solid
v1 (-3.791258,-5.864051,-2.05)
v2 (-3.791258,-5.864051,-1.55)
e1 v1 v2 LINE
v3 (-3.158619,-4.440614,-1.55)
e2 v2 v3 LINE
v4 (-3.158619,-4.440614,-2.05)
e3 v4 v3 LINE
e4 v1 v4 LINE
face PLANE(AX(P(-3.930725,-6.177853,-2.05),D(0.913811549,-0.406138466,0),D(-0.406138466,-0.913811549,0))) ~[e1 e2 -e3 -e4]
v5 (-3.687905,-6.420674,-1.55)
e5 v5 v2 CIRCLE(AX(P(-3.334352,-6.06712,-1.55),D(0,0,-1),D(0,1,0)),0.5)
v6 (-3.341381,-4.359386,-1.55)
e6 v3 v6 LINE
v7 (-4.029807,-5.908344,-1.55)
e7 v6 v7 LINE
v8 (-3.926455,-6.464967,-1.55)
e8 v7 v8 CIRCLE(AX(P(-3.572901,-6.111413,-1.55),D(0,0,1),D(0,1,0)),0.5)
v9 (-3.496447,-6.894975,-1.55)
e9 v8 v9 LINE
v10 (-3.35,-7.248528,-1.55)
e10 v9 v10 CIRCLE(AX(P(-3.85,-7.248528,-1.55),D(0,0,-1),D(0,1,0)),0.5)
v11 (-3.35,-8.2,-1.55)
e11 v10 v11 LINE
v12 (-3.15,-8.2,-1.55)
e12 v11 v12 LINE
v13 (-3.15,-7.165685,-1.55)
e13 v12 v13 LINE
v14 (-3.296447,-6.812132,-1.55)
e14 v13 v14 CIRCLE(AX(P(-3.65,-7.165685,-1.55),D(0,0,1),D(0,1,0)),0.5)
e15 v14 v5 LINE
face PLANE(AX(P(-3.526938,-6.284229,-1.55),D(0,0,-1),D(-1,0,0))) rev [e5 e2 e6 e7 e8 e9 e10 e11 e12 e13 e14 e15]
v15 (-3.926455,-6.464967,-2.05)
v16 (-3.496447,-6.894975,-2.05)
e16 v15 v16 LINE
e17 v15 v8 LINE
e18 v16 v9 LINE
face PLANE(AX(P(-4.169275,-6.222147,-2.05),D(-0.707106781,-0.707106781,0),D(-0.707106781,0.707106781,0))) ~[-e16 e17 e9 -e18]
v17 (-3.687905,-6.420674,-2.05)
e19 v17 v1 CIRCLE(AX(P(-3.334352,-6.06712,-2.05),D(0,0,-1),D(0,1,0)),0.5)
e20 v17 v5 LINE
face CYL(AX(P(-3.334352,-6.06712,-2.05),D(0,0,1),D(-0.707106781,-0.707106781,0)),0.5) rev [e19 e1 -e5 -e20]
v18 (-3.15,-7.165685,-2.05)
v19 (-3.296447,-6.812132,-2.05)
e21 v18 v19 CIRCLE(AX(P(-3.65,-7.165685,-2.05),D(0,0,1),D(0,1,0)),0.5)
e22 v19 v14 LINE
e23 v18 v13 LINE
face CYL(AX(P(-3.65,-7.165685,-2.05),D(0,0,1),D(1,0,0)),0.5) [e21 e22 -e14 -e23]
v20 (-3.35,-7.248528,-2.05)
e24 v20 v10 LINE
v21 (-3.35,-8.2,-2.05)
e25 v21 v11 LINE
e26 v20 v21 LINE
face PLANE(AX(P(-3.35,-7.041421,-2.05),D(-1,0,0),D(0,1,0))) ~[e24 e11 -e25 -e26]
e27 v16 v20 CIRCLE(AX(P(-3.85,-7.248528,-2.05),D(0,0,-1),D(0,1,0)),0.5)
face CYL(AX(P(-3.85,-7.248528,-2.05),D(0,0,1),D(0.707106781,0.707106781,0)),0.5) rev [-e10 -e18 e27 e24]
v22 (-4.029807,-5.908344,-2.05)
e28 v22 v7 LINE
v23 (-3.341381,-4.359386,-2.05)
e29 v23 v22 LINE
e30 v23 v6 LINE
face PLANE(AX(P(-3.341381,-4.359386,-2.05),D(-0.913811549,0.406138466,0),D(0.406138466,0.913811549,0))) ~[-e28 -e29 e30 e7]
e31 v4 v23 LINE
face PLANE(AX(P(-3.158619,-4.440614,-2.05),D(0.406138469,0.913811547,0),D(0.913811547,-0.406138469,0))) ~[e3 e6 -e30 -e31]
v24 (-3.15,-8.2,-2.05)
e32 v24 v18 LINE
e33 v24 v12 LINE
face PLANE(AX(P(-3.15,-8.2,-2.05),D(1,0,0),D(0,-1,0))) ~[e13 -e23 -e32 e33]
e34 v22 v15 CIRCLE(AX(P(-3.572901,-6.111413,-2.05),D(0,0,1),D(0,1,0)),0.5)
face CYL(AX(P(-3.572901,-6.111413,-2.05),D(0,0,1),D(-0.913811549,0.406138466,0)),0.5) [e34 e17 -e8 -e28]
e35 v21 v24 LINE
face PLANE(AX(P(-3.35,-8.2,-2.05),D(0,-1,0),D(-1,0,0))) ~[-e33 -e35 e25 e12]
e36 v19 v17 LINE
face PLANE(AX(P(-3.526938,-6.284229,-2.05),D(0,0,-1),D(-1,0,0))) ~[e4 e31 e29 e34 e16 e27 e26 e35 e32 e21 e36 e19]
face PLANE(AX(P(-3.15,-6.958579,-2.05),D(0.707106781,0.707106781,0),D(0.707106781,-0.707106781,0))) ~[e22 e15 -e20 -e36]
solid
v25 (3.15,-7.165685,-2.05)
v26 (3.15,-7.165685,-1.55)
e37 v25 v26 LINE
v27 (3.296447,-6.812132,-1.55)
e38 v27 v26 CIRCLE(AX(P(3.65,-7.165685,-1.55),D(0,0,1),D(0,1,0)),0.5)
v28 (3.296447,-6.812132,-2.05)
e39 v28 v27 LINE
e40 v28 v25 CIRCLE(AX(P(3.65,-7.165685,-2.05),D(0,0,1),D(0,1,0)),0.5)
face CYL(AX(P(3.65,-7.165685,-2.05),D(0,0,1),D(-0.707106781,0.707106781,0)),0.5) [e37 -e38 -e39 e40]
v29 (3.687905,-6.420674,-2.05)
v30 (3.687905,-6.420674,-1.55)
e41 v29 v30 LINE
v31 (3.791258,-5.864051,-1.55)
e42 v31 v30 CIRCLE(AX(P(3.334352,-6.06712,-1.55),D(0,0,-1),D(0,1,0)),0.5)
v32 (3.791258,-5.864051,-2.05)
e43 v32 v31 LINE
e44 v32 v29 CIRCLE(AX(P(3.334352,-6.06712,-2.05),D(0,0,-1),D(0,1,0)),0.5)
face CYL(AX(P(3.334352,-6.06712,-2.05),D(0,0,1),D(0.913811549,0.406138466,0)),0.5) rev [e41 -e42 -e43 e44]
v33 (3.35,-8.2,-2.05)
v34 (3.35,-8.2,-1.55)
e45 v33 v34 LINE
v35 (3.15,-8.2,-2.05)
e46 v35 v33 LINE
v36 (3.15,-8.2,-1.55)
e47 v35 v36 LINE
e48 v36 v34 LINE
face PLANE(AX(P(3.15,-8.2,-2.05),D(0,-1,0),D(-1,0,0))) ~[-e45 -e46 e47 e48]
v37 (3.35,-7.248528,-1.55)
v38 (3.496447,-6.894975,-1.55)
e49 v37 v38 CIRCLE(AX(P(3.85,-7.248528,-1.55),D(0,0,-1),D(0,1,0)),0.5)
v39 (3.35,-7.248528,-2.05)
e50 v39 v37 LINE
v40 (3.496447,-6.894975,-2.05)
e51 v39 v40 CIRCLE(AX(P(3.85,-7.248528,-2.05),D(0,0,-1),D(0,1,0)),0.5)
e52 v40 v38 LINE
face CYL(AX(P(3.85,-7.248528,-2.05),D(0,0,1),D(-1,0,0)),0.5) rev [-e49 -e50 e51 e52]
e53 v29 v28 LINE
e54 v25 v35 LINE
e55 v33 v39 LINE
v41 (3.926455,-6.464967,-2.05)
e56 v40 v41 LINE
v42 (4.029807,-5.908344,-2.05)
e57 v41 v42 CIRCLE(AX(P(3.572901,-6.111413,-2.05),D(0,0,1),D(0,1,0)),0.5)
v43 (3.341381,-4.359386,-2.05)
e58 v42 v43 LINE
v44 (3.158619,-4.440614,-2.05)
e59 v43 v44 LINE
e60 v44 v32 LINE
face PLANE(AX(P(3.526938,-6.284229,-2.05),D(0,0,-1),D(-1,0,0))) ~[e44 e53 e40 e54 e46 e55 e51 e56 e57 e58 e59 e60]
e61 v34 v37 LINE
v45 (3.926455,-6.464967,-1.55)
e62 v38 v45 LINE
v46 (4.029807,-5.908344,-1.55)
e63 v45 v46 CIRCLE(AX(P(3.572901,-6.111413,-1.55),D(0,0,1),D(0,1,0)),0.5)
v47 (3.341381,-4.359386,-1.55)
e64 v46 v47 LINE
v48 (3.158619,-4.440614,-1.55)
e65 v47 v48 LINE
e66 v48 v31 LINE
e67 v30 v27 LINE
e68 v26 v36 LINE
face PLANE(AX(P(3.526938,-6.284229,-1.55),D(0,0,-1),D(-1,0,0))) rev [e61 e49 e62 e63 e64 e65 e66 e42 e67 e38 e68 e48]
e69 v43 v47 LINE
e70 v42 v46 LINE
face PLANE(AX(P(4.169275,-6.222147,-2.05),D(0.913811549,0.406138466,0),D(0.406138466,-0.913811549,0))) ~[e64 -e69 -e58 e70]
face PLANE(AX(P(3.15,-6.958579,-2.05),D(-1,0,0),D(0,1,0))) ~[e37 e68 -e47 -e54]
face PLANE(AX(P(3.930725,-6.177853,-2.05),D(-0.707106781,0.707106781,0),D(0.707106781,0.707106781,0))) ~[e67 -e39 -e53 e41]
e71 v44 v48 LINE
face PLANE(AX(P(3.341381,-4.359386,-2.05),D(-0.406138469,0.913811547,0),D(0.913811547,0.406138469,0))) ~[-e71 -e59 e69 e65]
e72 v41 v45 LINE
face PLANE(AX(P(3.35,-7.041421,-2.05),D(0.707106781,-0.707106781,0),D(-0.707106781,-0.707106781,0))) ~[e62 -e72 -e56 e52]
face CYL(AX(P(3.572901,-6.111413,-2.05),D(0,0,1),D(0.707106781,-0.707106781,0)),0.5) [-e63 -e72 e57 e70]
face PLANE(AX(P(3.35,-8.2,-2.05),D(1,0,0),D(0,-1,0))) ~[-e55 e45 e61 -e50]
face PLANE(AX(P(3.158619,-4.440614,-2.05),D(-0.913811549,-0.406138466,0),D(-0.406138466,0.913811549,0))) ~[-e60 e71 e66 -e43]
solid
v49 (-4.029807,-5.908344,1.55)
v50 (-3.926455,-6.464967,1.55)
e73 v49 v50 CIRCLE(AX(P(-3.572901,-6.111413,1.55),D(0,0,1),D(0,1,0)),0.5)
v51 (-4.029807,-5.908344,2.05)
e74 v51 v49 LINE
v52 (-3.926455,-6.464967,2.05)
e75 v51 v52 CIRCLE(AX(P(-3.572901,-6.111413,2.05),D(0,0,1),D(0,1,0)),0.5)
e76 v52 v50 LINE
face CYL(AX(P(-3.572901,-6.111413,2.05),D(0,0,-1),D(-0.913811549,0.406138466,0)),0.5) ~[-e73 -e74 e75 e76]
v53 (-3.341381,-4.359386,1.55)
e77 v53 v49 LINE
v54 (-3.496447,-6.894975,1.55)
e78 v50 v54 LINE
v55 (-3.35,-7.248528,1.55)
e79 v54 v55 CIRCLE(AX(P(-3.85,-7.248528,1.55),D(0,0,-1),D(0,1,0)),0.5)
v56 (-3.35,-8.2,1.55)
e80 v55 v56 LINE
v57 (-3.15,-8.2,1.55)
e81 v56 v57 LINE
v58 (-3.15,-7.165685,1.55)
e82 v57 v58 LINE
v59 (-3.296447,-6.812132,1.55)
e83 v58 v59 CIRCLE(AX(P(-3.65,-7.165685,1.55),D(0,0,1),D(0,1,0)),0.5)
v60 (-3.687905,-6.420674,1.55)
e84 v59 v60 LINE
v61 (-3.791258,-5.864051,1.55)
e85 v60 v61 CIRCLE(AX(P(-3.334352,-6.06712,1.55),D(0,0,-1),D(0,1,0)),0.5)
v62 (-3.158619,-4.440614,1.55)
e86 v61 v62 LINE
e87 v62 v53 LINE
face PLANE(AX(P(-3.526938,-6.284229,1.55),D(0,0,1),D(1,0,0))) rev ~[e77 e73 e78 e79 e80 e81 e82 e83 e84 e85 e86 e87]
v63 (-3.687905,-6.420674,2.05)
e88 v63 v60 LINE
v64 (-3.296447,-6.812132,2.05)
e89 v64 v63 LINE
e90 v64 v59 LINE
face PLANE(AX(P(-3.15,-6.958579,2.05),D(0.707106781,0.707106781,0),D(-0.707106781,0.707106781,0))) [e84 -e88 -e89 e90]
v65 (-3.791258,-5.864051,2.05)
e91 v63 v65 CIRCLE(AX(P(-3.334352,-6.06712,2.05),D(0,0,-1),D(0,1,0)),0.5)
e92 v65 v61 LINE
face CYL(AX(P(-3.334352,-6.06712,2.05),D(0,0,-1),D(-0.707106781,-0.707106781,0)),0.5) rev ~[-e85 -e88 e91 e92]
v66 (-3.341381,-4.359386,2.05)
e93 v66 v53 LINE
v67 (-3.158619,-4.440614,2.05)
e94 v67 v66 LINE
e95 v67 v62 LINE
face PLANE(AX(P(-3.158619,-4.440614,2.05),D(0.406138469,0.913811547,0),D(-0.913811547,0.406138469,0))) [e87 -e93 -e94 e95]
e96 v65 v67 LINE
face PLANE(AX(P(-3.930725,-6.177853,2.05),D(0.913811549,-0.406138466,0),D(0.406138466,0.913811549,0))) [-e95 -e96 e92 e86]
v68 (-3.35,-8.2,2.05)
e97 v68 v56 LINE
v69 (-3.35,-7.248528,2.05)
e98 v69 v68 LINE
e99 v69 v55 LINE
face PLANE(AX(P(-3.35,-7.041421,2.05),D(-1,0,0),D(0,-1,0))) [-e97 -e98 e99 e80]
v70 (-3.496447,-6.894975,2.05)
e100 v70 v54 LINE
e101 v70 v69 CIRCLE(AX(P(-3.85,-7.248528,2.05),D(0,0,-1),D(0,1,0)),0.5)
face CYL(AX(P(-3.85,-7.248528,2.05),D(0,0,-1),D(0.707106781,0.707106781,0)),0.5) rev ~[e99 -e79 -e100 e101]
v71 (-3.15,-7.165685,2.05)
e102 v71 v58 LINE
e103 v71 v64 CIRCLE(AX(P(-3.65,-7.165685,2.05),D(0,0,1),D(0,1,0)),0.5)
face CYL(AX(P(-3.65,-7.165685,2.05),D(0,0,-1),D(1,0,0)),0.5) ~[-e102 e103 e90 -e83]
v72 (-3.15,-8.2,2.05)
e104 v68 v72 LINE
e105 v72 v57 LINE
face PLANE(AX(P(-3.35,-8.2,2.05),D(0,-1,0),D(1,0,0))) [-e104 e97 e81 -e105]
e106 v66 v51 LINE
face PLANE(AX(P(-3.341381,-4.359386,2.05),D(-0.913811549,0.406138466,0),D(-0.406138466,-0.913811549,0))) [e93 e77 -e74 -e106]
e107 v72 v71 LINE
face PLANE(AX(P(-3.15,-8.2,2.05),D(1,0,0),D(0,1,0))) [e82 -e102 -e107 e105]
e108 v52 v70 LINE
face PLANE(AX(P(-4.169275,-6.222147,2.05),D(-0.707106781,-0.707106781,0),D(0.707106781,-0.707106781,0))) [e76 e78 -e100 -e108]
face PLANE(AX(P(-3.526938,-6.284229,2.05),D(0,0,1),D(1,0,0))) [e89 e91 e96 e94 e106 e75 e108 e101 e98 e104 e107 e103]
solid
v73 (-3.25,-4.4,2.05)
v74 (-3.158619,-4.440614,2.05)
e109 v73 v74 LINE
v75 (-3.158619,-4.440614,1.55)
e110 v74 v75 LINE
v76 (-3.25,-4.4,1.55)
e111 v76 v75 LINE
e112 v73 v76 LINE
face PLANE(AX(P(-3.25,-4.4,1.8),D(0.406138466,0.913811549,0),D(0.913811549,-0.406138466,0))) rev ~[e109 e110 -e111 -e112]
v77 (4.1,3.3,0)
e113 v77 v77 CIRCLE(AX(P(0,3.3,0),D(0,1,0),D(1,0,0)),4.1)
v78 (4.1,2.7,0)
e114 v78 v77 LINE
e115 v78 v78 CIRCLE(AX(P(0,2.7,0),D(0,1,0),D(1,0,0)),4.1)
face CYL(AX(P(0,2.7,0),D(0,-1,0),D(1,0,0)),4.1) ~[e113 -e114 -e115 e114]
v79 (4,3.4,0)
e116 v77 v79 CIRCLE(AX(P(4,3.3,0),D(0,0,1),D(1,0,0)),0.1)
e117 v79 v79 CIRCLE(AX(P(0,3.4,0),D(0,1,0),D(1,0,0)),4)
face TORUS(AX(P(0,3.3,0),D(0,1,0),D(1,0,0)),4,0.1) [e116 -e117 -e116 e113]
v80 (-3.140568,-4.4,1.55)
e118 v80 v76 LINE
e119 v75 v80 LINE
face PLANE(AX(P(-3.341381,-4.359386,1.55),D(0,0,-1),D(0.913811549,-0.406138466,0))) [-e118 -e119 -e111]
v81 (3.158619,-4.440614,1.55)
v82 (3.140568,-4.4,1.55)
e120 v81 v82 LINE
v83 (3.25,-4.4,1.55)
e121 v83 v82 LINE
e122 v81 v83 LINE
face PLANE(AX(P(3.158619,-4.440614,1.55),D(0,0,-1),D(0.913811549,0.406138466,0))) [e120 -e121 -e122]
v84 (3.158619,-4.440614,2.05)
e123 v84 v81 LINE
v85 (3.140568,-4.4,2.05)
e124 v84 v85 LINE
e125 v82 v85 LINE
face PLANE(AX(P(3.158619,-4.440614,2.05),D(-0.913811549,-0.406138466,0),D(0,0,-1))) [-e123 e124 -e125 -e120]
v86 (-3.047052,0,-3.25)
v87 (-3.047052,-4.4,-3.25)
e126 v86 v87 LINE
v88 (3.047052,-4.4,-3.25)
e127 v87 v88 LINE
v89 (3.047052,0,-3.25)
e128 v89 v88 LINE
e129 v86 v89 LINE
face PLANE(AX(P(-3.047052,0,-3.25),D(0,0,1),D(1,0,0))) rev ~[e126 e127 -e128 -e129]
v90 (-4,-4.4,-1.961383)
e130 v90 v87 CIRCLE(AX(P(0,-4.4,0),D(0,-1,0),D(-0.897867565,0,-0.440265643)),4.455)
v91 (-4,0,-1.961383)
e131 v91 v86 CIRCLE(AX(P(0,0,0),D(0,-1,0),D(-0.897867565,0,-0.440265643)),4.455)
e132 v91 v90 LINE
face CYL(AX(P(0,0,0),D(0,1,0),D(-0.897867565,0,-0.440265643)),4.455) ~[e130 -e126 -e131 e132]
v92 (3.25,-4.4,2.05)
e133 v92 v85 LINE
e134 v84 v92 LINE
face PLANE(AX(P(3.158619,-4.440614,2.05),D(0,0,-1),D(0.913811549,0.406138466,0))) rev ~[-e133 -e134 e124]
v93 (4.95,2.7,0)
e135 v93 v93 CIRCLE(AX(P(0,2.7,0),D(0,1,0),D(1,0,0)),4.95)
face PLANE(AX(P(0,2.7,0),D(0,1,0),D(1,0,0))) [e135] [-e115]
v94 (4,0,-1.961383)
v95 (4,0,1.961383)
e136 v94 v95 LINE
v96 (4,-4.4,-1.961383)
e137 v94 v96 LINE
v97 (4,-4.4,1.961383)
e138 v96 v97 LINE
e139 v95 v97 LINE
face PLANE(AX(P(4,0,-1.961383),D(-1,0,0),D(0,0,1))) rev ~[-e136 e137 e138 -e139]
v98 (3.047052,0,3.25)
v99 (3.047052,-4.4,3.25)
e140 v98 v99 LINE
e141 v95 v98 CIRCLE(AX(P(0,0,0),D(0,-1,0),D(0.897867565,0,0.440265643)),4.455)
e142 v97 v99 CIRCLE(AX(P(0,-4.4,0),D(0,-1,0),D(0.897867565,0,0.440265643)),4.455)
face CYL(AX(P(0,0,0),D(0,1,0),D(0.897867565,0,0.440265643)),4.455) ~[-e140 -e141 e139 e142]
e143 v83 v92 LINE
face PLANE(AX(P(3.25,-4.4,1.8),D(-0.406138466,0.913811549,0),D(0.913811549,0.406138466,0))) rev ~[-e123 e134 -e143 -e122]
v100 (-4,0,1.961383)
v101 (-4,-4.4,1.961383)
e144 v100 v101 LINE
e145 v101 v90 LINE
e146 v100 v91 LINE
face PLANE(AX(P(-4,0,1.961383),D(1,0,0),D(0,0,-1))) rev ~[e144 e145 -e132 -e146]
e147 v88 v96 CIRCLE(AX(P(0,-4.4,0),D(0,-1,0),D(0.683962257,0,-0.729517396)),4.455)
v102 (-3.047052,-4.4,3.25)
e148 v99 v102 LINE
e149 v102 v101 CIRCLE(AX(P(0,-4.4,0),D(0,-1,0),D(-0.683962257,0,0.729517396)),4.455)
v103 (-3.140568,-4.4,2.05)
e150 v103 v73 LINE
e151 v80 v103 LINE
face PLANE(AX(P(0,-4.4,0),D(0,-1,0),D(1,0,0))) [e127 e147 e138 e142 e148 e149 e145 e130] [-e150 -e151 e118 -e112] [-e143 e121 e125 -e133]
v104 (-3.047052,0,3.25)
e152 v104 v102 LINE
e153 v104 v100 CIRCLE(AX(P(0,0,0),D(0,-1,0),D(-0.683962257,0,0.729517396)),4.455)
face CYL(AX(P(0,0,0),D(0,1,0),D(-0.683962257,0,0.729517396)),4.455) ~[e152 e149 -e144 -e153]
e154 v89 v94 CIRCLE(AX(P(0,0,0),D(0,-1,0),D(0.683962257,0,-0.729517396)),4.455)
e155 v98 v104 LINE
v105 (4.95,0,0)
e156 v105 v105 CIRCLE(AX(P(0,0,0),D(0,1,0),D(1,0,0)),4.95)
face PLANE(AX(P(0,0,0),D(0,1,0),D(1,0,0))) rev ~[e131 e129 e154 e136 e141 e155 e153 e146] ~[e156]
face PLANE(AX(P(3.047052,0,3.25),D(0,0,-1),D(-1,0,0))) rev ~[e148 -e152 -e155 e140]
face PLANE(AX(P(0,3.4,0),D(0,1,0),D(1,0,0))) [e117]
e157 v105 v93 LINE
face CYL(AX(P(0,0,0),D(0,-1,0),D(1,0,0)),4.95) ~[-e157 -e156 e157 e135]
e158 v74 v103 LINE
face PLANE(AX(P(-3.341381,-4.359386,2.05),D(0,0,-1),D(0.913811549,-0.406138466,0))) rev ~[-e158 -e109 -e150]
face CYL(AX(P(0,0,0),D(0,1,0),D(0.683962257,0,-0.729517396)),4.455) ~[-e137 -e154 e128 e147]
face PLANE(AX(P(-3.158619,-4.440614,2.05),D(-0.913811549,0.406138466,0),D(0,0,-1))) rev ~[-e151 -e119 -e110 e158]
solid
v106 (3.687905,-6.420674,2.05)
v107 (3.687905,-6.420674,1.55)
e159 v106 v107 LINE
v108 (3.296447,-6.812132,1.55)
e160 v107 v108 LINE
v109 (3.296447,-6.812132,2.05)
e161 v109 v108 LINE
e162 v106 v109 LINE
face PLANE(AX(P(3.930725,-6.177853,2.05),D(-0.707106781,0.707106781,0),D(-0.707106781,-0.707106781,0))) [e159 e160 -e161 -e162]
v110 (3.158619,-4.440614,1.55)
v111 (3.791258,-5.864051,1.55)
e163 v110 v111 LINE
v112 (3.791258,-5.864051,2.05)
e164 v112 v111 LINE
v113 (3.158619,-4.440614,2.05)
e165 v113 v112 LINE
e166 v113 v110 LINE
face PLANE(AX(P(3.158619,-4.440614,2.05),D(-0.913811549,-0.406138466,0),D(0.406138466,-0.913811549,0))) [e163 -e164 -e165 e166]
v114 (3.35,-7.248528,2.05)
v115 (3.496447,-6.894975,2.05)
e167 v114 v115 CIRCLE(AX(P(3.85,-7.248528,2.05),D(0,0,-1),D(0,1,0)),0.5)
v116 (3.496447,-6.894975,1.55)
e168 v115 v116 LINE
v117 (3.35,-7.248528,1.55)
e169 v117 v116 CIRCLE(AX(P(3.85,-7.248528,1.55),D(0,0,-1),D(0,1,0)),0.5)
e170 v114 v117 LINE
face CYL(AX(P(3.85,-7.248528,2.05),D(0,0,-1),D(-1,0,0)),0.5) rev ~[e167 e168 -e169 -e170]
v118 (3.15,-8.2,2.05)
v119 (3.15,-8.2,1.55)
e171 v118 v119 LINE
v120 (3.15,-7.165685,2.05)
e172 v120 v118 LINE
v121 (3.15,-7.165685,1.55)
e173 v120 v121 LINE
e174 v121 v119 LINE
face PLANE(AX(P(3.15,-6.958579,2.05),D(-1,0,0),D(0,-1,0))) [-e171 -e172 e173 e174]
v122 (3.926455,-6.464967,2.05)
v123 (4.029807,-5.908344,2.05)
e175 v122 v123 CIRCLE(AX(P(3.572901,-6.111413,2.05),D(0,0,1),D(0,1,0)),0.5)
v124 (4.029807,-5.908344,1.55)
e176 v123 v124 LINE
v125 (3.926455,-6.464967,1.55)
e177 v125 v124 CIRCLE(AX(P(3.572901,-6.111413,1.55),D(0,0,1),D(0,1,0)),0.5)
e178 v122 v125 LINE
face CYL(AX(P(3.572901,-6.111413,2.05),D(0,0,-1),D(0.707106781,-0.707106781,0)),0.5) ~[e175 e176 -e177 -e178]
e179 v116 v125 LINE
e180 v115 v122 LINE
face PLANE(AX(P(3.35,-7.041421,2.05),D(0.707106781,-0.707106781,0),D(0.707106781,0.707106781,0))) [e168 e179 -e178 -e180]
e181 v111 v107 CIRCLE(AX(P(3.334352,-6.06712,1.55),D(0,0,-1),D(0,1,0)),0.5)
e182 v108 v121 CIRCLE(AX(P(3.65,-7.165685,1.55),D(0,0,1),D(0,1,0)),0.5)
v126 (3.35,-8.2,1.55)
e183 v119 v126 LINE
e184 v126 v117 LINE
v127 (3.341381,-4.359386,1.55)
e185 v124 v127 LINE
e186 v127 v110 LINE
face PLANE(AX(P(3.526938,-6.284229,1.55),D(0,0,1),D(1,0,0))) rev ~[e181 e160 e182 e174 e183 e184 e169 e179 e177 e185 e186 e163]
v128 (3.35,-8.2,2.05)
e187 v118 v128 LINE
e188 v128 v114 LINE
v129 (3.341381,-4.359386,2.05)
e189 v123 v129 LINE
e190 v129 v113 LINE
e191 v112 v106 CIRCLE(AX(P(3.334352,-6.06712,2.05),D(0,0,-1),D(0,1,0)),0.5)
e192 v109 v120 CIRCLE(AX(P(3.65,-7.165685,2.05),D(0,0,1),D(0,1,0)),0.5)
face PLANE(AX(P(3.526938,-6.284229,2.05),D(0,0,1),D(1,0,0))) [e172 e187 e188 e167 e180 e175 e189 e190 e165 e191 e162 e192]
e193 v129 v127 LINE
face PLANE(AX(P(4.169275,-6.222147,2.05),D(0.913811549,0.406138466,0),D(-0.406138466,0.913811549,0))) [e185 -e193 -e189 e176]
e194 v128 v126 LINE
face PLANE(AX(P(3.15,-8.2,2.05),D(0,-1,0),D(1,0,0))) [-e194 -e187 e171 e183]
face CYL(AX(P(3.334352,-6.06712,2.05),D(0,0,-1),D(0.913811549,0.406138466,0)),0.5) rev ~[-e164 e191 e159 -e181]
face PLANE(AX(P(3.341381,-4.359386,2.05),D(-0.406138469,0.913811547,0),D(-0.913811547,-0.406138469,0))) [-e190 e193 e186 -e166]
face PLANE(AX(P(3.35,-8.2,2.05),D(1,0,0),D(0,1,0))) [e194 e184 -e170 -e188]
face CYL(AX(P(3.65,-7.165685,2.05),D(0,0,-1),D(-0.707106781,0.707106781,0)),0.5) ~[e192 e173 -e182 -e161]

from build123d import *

# Parameters (mm, degrees)
SKETCH1_R             = 4.95
BOSS_EXTRUDE1_DEPTH   = 2.7
SKETCH2_R             = 4.1
BOSS_EXTRUDE2_DEPTH   = 0.7
BOSS_EXTRUDE3_DEPTH   = 4.4
EXTRUDE_THIN1_START   = -1.2
EXTRUDE_THIN1_DEPTH   = 0.5
EXTRUDE_THIN1_2_DEPTH = 0.5
FILLET1_R             = 0.5
FILLET2_R             = 0.5
BOSS_EXTRUDE4_REACH   = 12.458
SKETCH5_W             = 0.2
SKETCH5_H             = 0.5
BOSS_EXTRUDE5_REACH   = 12.458
SKETCH6_W             = 0.2
SKETCH6_H             = 0.5
FILLET3_R             = 0.1


with BuildPart() as part:
    # Sketch1 → Boss-Extrude1 (new body)
    with BuildSketch(Plane(origin=(0, 0, 0), x_dir=(1, 0, 0), z_dir=(0, 1, 0))):
        Circle(SKETCH1_R)
    extrude(amount=BOSS_EXTRUDE1_DEPTH)

    # Sketch2 → Boss-Extrude2 (add)
    with BuildSketch(Plane(origin=(0, 2.7, 0), x_dir=(1, 0, 0), z_dir=(0, 1, 0))):
        Circle(SKETCH2_R)
    extrude(amount=BOSS_EXTRUDE2_DEPTH)

    # Sketch3 → Boss-Extrude3 (add)
    with BuildSketch(Plane.XZ):
        with BuildLine():
            Line((3.047051854, 3.25), (-3.047051854, 3.25))
            ThreePointArc((-3.047051854, 3.25), (-3.581950323, 2.648897296), (-4, 1.96138344))
            Line((-4, 1.96138344), (-4, -1.96138344))
            ThreePointArc((-4, -1.96138344), (-3.581950323, -2.648897296), (-3.047051854, -3.25))
            Line((-3.047051854, -3.25), (3.047051854, -3.25))
            ThreePointArc((3.047051854, -3.25), (3.581950323, -2.648897296), (4, -1.96138344))
            Line((4, -1.96138344), (4, 1.96138344))
            ThreePointArc((4, 1.96138344), (3.581950323, 2.648897296), (3.047051854, 3.25))
        make_face()
    extrude(amount=BOSS_EXTRUDE3_DEPTH)

    # Boss-Extrude4: up to this face of the body (flat: up to its plane)
    boss_extrude4_end = Plane(part.part.faces().sort_by_distance((0, -4.4, 0))[0])
    # Sketch5 → Boss-Extrude4 (add, up to the picked face)
    with BuildSketch(Plane(origin=(2.169072165, -4.880412371, 0), x_dir=(0.913811549, 0.406138466, 0), z_dir=(-0.406138466, 0.913811549, 0)), mode=Mode.PRIVATE) as boss_extrude4_sk1:
        with Locations((1.182878282, -1.8)):
            Rectangle(SKETCH5_W, SKETCH5_H)
    boss_extrude4_tool1 = split(extrude(boss_extrude4_sk1.sketch, amount=BOSS_EXTRUDE4_REACH, mode=Mode.PRIVATE), bisect_by=boss_extrude4_end, keep=Keep.BOTH, mode=Mode.PRIVATE)
    add(boss_extrude4_tool1.solids().sort_by_distance((3.25, -4.4, 1.8))[0])

    # Boss-Extrude5: up to this face of the body (flat: up to its plane)
    boss_extrude5_end = Plane(part.part.faces().sort_by_distance((-0.003510671, -4.4, -0.001977667))[0])
    # Sketch6 → Boss-Extrude5 (add, up to the picked face)
    with BuildSketch(Plane(origin=(-2.169072165, -4.880412371, 0), x_dir=(0.913811549, -0.406138466, 0), z_dir=(0.406138466, 0.913811549, 0)), mode=Mode.PRIVATE) as boss_extrude5_sk1:
        with Locations((-1.182878282, -1.8)):
            Rectangle(SKETCH6_W, SKETCH6_H)
    boss_extrude5_tool1 = split(extrude(boss_extrude5_sk1.sketch, amount=BOSS_EXTRUDE5_REACH, mode=Mode.PRIVATE), bisect_by=boss_extrude5_end, keep=Keep.BOTH, mode=Mode.PRIVATE)
    add(boss_extrude5_tool1.solids().sort_by_distance((-3.25, -4.4, 1.8))[0])

    # Fillet3
    fillet3_edges = [part.edges().sort_by_distance(p)[0] for p in [
        (-4.1, 3.4, 0),
    ]]
    fillet(fillet3_edges, radius=FILLET3_R)


with BuildPart() as body_2:
    # Sketch4 → Extrude-Thin1 (new body)
    with BuildSketch(Plane.XY.offset(3.25).offset(EXTRUDE_THIN1_START)):
        Polygon((-3.341381155, -4.359386153), (-4.169274708, -6.222146648), (-3.35, -7.041421356), (-3.35, -8.2), (-3.15, -8.2), (-3.15, -6.958578644), (-3.930725292, -6.177853352), (-3.158618845, -4.440613847), align=None)
    extrude(amount=-EXTRUDE_THIN1_DEPTH)

    # Fillet1
    fillet1_edges = [body_2.edges().sort_by_distance(p)[0] for p in [
        (-3.35, -7.041421356, 1.8),
        (-4.169274708, -6.222146648, 1.8),
        (-3.930725292, -6.177853352, 1.8),
        (-3.15, -6.958578644, 1.8),
    ]]
    fillet(fillet1_edges, radius=FILLET1_R)


with BuildPart() as body_3:
    # Sketch4 → Extrude-Thin1 2 (new body)
    with BuildSketch(Plane.XY.offset(3.25).offset(EXTRUDE_THIN1_START)):
        Polygon((3.158618845, -4.440613847), (3.930725292, -6.177853352), (3.15, -6.958578644), (3.15, -8.2), (3.35, -8.2), (3.35, -7.041421356), (4.169274708, -6.222146648), (3.341381155, -4.359386153), align=None)
    extrude(amount=-EXTRUDE_THIN1_2_DEPTH)

    # Fillet2
    fillet2_edges = [body_3.edges().sort_by_distance(p)[0] for p in [
        (3.15, -6.958578644, 1.8),
        (3.930725292, -6.177853352, 1.8),
        (4.169274708, -6.222146648, 1.8),
        (3.35, -7.041421356, 1.8),
    ]]
    fillet(fillet2_edges, radius=FILLET2_R)


with BuildPart() as body_4:
    # Mirror2: mirrored copy
    add(body_2.part.mirror(Plane.XY))


with BuildPart() as body_5:
    # Mirror2 2: mirrored copy
    add(body_3.part.mirror(Plane.XY))


solid = Compound([part.part, body_2.part, body_3.part, body_4.part, body_5.part])
